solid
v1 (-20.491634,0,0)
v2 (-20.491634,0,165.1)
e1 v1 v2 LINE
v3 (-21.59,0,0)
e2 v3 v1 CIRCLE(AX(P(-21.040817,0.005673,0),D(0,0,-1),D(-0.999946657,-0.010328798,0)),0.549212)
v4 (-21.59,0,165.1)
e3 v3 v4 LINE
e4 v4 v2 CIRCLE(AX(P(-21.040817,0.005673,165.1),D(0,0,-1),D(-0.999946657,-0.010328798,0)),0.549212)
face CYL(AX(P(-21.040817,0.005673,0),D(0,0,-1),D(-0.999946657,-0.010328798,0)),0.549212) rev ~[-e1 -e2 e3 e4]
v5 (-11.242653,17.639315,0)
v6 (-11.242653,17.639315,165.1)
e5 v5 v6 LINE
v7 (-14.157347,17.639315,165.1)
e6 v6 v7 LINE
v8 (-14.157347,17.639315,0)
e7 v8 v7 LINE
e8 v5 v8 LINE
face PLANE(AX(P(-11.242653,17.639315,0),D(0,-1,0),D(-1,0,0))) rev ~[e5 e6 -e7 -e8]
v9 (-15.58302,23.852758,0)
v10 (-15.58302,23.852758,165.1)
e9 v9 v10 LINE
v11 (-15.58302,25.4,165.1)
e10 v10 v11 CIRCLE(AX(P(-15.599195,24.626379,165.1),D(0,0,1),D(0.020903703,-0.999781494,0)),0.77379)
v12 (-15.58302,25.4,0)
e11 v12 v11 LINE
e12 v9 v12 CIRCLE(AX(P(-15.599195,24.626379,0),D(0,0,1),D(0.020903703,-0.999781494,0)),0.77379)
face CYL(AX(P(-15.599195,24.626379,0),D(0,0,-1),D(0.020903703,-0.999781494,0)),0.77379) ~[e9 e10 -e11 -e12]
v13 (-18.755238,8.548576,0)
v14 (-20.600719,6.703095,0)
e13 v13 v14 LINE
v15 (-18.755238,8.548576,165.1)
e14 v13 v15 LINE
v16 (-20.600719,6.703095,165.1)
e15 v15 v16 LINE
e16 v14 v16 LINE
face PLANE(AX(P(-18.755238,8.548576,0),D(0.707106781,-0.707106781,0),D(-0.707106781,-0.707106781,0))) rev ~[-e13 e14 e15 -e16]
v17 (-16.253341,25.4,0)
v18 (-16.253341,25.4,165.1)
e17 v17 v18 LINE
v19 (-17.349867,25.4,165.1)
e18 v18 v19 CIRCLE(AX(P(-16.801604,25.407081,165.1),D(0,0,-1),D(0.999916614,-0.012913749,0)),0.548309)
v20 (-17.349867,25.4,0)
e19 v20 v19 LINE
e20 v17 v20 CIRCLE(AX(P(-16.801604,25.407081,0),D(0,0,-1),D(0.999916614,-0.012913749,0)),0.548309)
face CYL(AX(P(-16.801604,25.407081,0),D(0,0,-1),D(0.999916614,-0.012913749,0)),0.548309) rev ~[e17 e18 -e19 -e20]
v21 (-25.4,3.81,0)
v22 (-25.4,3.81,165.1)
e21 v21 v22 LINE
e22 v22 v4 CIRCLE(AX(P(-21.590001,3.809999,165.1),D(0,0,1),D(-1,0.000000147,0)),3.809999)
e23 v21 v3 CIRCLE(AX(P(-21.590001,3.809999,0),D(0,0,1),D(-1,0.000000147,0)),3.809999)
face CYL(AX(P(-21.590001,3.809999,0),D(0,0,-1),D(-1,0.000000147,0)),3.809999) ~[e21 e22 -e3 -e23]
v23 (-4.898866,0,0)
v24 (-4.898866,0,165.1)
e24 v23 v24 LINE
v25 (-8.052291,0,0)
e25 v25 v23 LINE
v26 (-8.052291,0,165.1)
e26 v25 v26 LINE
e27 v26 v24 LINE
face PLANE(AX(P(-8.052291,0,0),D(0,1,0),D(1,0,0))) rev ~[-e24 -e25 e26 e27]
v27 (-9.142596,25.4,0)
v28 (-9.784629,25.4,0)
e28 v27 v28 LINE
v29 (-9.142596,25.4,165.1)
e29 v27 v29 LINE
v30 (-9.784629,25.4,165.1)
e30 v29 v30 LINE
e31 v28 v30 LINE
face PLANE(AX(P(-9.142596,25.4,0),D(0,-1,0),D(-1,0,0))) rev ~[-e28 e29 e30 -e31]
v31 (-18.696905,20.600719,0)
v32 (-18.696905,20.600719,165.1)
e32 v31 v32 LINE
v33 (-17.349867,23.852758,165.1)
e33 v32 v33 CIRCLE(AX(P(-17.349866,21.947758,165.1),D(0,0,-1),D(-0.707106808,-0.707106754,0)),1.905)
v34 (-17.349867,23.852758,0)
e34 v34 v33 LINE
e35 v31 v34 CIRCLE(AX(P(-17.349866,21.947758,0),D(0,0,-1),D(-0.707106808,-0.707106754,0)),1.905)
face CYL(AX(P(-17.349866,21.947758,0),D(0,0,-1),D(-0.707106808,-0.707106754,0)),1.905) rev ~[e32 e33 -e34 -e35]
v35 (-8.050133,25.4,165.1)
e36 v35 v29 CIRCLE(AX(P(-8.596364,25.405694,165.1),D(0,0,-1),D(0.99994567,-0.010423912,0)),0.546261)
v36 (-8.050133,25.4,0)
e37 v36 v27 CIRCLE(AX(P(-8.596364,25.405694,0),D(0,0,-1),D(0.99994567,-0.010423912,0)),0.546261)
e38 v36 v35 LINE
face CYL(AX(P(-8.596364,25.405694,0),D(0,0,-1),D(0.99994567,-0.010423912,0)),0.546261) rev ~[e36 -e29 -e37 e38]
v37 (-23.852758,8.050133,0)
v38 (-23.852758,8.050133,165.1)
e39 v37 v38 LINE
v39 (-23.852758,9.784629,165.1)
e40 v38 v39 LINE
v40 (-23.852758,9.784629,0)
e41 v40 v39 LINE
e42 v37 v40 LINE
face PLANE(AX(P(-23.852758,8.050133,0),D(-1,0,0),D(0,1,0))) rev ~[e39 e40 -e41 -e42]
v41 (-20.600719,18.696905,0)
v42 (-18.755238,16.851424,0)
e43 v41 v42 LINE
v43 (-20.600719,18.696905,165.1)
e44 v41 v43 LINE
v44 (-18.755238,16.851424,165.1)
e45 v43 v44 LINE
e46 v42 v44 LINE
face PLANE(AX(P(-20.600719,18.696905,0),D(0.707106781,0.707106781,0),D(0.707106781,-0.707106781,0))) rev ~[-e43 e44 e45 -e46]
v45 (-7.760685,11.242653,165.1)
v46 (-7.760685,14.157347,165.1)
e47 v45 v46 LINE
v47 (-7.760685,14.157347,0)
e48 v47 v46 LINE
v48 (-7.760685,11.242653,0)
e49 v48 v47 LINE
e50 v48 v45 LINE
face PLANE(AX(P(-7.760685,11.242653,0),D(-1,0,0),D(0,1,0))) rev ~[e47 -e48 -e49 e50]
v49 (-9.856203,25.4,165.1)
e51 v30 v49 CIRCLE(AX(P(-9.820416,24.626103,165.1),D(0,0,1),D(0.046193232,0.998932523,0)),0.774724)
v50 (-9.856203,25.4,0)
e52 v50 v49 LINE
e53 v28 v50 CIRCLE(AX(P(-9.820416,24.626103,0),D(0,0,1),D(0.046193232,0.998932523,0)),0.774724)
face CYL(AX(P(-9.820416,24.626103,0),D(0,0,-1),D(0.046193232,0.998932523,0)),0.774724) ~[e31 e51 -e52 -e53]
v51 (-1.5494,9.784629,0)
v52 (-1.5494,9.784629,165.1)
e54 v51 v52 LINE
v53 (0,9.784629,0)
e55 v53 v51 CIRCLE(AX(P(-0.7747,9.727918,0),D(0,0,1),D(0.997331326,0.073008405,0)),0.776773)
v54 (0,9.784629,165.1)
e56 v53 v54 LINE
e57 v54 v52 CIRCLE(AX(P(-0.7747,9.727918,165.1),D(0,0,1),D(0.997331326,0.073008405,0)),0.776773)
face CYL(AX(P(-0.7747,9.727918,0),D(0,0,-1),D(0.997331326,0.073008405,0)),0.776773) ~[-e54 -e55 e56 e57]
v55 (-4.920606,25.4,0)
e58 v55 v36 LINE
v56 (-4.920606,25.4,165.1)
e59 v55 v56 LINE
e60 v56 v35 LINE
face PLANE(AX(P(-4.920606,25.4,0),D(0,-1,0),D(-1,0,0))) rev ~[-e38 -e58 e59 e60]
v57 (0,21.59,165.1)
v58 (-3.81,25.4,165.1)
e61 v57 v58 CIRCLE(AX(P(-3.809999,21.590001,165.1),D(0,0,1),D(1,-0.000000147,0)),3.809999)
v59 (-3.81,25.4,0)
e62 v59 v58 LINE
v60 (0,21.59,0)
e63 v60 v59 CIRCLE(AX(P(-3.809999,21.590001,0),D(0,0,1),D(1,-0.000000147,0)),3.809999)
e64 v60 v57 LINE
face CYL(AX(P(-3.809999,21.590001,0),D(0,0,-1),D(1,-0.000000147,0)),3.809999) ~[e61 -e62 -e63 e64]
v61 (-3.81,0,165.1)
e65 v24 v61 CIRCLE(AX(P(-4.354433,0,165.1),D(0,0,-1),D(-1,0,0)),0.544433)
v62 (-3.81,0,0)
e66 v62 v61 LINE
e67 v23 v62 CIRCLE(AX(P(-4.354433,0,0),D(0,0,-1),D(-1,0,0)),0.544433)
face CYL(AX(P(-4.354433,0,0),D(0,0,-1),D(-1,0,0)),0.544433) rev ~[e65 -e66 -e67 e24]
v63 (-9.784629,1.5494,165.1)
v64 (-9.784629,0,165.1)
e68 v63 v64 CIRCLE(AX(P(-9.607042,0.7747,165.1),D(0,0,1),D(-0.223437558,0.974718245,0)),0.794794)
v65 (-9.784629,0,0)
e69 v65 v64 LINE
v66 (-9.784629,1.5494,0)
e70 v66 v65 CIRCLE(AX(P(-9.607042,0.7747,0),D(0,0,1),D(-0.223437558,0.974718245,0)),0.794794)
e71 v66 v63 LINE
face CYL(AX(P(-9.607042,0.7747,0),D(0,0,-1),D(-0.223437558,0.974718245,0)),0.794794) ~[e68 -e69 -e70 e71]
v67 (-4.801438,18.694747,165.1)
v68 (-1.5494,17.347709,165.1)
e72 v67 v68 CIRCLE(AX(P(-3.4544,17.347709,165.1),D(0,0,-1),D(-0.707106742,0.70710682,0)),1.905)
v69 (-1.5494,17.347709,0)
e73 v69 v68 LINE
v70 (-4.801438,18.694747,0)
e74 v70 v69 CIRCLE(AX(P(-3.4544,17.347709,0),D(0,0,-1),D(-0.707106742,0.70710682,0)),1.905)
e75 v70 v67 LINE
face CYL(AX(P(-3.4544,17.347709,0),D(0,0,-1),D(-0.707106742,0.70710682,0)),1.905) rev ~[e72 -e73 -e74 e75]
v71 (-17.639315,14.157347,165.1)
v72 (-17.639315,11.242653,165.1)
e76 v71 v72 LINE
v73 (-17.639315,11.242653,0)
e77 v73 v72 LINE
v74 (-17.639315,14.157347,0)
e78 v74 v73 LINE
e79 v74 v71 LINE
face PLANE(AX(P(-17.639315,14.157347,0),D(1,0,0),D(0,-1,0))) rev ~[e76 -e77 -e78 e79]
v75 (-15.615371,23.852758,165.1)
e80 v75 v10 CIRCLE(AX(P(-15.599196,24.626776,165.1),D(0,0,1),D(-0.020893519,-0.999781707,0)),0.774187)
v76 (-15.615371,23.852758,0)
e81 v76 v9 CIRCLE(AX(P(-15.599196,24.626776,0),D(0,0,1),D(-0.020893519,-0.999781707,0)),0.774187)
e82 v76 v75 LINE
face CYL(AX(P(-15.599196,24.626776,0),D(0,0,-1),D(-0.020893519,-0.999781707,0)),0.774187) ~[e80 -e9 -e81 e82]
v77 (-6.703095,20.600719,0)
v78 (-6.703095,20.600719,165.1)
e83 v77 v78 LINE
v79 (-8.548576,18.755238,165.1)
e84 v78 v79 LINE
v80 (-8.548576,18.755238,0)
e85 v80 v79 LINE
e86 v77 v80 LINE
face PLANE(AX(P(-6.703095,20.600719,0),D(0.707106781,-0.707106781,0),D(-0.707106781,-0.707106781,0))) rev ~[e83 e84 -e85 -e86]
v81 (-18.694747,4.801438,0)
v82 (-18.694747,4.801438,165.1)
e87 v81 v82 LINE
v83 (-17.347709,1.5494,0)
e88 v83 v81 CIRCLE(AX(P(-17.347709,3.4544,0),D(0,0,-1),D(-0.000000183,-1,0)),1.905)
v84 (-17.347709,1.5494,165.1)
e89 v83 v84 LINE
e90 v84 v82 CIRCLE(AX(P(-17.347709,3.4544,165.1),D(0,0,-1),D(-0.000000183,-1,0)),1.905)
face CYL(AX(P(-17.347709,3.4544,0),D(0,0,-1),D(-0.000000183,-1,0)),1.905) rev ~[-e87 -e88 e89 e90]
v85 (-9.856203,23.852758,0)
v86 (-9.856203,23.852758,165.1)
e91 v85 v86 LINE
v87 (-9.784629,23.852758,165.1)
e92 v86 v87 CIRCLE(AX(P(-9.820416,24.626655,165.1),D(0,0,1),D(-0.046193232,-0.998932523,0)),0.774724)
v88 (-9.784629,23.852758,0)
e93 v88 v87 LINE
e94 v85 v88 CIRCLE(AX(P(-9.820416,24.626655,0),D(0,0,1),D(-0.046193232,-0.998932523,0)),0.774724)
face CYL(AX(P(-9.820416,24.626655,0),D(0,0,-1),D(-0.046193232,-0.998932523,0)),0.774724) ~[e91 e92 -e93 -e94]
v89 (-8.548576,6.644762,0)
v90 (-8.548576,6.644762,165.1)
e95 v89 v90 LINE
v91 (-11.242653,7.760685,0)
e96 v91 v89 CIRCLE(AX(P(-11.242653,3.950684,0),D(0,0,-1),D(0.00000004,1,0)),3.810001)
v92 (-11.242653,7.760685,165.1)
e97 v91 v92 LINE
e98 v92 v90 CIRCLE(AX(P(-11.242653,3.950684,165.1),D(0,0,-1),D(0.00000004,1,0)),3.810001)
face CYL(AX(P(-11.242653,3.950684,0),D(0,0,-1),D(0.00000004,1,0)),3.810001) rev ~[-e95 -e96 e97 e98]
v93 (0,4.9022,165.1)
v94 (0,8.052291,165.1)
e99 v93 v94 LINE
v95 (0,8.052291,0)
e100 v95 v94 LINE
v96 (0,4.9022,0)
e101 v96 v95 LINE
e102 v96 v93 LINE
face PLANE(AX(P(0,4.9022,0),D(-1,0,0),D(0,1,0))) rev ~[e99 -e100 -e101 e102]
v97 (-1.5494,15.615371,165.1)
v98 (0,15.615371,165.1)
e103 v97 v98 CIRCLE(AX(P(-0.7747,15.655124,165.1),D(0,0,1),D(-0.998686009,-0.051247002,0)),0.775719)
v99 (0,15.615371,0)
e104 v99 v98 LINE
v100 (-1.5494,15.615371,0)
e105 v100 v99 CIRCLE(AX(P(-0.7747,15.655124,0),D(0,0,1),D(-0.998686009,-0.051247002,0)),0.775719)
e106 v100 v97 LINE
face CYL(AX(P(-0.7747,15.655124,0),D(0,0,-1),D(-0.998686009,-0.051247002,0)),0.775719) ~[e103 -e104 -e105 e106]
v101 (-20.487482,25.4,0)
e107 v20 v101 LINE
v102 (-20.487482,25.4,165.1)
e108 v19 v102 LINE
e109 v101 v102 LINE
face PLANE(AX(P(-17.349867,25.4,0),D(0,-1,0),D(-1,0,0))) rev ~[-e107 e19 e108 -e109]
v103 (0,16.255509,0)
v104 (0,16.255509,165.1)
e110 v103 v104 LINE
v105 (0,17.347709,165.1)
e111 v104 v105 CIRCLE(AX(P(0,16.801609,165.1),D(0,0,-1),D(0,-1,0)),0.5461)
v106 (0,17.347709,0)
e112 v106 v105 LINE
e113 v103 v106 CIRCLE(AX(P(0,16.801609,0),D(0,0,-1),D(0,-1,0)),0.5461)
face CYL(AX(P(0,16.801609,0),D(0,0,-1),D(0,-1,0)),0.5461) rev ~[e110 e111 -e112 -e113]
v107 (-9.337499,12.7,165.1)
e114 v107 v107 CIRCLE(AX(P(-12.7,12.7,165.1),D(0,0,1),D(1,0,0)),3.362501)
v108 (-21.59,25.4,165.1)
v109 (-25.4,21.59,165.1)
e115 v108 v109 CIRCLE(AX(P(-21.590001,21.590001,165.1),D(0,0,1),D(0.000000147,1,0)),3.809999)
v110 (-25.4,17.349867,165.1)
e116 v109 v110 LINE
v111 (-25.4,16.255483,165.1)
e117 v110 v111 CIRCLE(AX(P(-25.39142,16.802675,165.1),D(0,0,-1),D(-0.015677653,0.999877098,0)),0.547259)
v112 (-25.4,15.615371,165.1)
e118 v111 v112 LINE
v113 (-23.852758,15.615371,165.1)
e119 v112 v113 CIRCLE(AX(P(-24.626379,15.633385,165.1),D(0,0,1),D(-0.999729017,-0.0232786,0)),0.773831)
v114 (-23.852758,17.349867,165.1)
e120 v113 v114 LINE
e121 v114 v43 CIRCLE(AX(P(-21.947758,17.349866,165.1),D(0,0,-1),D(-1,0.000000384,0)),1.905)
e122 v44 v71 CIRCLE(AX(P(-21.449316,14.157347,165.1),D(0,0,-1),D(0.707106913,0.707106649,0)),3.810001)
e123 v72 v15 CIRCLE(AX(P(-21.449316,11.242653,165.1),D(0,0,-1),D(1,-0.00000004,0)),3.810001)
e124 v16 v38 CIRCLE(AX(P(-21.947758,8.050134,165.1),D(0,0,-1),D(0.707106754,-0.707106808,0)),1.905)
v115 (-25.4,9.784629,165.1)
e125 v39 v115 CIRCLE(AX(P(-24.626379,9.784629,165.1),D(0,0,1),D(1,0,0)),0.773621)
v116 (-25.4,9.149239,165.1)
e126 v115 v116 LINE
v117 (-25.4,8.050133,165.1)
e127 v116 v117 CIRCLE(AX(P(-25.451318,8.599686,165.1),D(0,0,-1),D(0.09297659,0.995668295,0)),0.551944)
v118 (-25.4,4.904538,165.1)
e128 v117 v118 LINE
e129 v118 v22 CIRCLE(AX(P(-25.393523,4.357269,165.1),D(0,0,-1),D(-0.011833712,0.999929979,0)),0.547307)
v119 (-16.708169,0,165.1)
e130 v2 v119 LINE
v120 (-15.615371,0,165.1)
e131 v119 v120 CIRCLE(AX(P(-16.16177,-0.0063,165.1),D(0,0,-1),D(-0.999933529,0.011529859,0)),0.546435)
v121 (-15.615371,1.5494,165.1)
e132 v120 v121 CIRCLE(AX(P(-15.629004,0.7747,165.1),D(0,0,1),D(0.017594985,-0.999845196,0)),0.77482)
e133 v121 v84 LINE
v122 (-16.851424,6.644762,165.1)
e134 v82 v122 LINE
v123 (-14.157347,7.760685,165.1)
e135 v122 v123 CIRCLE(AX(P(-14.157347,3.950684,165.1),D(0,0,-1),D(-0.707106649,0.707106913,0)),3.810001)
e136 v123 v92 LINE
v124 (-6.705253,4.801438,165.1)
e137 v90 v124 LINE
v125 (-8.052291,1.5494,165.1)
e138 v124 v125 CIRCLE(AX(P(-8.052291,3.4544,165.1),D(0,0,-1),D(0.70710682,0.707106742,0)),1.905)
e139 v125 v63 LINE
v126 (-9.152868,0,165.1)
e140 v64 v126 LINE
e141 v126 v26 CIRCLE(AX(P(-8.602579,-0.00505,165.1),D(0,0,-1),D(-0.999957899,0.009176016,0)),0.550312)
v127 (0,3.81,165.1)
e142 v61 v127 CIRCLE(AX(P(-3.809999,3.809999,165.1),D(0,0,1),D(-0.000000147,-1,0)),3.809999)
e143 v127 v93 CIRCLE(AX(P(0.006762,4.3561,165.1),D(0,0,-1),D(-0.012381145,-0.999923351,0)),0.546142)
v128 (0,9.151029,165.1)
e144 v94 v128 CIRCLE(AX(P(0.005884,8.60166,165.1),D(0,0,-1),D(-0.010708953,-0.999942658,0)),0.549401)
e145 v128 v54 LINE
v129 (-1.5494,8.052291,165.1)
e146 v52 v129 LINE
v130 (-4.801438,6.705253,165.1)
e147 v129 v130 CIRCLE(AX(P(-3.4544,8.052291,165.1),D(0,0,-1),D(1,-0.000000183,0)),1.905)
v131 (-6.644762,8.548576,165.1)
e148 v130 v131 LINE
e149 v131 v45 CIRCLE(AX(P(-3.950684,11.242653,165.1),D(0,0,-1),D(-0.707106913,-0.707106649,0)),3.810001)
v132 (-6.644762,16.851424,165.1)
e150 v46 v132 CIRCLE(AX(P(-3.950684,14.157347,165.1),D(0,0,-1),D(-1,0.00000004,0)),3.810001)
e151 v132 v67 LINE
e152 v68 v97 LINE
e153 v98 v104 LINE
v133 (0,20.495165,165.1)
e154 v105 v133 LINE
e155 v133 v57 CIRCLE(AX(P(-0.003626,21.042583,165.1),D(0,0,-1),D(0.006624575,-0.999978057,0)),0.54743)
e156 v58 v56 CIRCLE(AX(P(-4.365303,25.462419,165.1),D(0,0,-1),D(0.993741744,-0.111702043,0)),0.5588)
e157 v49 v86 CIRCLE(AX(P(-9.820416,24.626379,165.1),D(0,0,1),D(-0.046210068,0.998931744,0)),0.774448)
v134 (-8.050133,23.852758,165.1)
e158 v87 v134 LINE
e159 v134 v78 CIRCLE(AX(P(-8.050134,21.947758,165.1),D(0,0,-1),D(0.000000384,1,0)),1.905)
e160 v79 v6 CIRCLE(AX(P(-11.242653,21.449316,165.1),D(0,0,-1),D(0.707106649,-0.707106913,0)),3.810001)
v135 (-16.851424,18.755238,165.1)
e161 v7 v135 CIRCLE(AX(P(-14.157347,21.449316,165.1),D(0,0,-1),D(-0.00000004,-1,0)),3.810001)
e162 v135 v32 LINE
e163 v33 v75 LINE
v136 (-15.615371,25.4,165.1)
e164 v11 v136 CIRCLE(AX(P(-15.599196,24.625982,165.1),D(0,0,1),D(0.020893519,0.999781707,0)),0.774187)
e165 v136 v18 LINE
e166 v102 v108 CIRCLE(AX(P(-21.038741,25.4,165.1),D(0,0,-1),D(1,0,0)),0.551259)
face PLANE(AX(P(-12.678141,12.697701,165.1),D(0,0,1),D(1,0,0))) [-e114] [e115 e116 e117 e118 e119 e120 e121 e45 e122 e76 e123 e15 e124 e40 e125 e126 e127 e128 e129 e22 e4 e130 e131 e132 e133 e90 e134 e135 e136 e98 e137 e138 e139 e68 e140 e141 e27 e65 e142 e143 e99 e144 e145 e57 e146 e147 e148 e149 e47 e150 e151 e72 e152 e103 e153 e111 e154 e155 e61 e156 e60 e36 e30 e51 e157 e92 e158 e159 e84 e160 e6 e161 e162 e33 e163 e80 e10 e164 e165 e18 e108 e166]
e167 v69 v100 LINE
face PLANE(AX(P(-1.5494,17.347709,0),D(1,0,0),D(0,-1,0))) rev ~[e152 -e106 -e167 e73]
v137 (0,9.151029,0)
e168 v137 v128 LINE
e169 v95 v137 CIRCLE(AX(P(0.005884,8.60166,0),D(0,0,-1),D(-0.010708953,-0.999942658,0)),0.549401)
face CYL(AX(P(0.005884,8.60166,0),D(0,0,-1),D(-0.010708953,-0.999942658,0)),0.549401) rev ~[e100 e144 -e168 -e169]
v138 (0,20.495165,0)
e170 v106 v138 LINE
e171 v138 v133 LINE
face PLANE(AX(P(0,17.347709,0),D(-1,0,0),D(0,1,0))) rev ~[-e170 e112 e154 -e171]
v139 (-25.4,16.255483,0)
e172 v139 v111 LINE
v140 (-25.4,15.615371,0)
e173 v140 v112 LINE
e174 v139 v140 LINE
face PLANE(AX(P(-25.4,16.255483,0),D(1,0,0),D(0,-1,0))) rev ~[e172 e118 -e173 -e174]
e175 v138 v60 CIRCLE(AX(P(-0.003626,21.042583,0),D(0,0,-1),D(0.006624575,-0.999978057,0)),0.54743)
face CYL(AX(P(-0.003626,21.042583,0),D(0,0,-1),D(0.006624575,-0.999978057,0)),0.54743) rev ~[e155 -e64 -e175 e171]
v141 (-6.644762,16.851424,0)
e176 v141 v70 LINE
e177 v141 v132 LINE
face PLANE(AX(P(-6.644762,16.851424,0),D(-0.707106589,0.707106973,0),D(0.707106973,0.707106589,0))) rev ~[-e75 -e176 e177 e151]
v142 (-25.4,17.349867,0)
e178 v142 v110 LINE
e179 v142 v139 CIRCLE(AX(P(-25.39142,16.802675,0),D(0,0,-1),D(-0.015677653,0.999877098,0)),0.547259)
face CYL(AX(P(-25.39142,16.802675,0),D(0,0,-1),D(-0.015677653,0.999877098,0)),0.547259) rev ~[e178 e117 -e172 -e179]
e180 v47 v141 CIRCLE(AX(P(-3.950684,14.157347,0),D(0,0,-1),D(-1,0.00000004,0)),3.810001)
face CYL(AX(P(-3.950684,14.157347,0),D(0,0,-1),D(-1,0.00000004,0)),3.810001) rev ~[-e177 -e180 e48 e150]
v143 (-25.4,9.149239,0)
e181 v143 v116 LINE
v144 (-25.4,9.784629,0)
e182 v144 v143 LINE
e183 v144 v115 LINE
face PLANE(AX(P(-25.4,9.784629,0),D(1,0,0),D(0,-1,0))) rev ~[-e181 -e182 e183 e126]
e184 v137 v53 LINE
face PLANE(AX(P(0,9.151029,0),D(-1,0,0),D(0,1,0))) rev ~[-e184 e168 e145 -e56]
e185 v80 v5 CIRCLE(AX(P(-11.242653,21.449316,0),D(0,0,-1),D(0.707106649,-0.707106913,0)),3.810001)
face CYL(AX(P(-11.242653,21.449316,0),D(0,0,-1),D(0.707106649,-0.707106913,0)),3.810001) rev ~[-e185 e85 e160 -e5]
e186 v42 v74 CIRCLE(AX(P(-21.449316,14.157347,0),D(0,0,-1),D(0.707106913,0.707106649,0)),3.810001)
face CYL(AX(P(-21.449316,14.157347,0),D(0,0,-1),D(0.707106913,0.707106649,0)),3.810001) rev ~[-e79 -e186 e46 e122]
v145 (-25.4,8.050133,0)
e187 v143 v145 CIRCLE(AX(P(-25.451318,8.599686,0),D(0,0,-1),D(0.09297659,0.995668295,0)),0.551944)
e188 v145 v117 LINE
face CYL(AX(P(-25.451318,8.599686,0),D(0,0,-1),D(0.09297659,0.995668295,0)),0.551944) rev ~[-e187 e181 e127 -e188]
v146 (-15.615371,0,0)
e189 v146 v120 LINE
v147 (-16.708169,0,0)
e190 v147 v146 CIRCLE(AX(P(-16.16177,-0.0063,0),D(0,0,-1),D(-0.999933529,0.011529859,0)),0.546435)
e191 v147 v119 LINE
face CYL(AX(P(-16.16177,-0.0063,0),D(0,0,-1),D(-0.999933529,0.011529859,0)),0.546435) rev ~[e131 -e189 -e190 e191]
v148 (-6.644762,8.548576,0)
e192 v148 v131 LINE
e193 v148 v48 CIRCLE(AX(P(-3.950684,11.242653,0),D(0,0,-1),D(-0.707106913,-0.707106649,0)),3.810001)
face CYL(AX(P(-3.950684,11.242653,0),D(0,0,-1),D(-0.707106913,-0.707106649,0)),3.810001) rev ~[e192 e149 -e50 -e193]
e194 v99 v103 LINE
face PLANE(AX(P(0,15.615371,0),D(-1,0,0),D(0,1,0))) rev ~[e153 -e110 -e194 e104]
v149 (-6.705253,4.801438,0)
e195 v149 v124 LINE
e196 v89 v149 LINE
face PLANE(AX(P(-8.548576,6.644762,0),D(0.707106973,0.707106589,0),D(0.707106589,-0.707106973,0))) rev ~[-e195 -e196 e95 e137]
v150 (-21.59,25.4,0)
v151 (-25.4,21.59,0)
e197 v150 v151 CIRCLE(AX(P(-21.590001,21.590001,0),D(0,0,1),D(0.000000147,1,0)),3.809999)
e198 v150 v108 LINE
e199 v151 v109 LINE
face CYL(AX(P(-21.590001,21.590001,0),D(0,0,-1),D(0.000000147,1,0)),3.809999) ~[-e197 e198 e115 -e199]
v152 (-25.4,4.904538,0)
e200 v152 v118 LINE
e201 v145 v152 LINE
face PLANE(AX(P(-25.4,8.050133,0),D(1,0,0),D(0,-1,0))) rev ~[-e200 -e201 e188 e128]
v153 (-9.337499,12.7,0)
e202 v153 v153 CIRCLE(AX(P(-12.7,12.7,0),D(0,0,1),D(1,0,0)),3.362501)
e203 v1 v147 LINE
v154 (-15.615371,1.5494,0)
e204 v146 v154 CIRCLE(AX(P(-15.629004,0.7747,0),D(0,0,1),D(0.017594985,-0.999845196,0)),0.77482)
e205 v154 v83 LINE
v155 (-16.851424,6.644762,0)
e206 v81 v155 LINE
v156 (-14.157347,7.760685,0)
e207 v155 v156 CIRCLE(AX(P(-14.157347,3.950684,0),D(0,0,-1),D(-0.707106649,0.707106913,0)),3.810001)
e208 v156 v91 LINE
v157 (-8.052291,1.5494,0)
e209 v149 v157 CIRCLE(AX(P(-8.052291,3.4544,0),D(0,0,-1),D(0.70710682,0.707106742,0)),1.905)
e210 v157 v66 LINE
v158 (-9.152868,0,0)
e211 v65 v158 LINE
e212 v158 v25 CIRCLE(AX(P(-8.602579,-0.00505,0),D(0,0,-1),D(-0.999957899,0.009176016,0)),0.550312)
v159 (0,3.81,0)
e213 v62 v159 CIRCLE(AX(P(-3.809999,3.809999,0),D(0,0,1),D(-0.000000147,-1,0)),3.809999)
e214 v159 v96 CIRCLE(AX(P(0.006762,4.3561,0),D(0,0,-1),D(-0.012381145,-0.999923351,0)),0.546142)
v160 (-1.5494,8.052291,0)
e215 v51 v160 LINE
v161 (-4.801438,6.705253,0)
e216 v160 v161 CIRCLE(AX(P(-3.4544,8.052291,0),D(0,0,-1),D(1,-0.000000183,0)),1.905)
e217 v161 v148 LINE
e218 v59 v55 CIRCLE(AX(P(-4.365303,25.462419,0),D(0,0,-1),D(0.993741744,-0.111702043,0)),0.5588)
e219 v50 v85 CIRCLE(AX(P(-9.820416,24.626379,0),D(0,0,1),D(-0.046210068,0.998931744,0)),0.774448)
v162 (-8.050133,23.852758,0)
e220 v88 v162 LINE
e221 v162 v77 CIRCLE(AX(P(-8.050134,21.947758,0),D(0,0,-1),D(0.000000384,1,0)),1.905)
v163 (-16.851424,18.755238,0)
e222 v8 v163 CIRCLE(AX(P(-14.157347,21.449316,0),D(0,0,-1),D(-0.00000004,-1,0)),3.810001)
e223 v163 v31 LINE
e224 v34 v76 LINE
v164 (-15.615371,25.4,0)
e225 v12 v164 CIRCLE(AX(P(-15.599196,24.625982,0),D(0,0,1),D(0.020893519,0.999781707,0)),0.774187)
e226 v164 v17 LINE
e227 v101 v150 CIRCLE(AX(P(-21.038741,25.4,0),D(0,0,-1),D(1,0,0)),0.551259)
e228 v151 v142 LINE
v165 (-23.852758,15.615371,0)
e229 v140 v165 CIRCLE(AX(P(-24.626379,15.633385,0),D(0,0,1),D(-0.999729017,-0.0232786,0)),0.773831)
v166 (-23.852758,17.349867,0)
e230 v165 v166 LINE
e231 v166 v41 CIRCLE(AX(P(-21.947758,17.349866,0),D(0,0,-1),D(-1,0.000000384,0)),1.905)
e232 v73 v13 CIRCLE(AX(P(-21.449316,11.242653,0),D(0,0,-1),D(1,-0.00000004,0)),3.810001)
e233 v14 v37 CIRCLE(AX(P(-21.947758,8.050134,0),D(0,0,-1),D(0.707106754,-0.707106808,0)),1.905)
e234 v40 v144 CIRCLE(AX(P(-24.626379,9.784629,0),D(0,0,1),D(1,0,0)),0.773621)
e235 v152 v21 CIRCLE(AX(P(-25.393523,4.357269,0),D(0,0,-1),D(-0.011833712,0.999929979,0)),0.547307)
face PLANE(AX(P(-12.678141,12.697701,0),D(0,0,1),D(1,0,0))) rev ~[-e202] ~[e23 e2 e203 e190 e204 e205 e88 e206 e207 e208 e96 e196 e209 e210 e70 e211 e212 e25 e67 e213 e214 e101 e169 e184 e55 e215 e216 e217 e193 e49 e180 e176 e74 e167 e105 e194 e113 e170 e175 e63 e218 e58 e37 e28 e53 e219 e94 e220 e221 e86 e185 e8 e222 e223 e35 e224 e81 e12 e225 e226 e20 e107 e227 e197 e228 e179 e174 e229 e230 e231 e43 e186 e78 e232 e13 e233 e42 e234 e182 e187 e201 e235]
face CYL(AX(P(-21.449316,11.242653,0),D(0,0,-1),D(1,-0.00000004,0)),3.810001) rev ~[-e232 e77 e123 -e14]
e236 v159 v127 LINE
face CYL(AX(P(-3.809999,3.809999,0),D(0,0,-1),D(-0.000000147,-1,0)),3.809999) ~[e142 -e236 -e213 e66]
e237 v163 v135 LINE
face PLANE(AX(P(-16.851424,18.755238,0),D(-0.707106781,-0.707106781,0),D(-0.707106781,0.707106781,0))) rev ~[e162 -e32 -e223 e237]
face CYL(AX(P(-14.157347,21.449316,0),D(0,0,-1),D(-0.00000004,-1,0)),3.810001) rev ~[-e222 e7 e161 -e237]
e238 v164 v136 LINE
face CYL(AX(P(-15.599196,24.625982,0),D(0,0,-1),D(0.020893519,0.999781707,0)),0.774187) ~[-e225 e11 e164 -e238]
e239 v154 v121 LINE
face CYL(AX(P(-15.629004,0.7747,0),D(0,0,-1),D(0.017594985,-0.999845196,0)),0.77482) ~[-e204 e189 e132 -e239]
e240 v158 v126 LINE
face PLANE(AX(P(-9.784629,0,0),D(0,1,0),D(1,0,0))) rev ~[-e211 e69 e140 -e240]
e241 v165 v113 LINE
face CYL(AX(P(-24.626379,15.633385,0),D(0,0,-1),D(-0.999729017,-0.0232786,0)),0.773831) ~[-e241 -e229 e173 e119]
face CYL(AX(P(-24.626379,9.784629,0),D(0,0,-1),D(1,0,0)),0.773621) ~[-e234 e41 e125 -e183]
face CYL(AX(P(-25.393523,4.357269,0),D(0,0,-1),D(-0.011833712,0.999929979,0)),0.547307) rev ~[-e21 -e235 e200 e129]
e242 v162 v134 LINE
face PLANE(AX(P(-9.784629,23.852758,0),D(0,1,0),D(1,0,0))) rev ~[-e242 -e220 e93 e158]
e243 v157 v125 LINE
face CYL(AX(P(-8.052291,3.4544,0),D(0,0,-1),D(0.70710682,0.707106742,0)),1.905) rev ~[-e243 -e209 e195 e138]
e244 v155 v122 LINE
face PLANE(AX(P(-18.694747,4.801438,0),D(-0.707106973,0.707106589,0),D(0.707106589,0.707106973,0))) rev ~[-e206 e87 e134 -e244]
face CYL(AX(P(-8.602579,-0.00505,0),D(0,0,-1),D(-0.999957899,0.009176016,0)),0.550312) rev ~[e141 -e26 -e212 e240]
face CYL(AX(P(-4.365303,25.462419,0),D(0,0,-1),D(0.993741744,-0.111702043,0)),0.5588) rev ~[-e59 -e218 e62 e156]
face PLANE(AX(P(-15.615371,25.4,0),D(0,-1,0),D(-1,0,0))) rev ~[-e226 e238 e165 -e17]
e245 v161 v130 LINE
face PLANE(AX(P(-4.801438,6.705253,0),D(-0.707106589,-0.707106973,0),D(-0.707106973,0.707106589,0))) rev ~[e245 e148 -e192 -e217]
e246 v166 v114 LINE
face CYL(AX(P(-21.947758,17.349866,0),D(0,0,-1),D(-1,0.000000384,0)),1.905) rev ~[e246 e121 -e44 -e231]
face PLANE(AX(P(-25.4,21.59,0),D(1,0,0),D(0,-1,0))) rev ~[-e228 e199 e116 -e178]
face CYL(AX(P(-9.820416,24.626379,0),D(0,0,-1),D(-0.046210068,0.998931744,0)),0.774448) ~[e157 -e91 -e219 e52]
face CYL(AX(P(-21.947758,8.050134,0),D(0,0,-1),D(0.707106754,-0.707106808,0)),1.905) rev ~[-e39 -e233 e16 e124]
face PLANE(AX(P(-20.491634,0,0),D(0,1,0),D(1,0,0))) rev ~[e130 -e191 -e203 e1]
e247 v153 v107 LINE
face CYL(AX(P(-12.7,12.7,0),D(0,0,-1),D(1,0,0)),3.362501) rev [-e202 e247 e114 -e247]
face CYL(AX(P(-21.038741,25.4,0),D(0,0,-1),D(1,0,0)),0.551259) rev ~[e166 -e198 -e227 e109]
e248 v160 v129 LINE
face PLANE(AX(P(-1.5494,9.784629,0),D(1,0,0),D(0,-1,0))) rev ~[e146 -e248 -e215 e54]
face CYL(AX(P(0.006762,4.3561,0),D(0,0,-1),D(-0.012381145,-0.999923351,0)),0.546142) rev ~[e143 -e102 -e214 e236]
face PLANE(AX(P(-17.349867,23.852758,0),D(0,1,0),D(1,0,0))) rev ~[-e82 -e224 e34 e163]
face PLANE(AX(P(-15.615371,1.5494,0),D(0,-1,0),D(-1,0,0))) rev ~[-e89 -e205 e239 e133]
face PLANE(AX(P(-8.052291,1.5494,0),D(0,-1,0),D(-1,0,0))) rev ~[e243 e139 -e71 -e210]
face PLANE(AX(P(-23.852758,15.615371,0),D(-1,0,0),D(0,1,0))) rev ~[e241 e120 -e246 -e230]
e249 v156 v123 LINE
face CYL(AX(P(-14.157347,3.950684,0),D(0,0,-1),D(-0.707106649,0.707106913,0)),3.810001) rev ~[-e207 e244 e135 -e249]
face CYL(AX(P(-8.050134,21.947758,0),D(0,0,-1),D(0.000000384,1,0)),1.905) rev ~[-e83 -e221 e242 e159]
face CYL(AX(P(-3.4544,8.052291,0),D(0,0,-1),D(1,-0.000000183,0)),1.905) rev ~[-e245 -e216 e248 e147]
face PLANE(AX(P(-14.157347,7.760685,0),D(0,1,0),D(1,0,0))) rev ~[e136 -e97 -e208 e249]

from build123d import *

# Parameters (mm, degrees)
F0_R     = 3.362501
F1_DEPTH = 165.1


with BuildPart() as f1:
    # F0 (on Top) → F1 (new body)
    with BuildSketch(Plane.XY):
        with BuildLine():
            ThreePointArc((-8.548576, 18.755238), (-9.784629, 17.929334), (-11.242653, 17.639315))
            Line((-11.242653, 17.639315), (-14.157347, 17.639315))
            ThreePointArc((-14.157347, 17.639315), (-15.615371, 17.929334), (-16.851424, 18.755238))
            Line((-16.851424, 18.755238), (-18.696905, 20.600719))
            ThreePointArc((-18.696905, 20.600719), (-19.109857, 22.67677), (-17.349867, 23.852758))
            Line((-17.349867, 23.852758), (-15.615371, 23.852758))
            Line((-15.615371, 23.852758), (-15.58302, 23.852758))
            ThreePointArc((-15.58302, 23.852758), (-14.825405, 24.626379), (-15.58302, 25.4))
            Line((-15.58302, 25.4), (-15.615371, 25.4))
            Line((-15.615371, 25.4), (-16.253341, 25.4))
            ThreePointArc((-16.253341, 25.4), (-16.801604, 24.858772), (-17.349867, 25.4))
            Line((-17.349867, 25.4), (-20.487482, 25.4))
            ThreePointArc((-20.487482, 25.4), (-21.038741, 24.848741), (-21.59, 25.4))
            ThreePointArc((-21.59, 25.4), (-24.284077, 24.284077), (-25.4, 21.59))
            Line((-25.4, 21.59), (-25.4, 20.504724))
            Line((-25.4, 20.504724), (-25.4, 17.349867))
            ThreePointArc((-25.4, 17.349867), (-24.844161, 16.802675), (-25.4, 16.255483))
            Line((-25.4, 16.255483), (-25.4, 15.615371))
            ThreePointArc((-25.4, 15.615371), (-24.626379, 14.859554), (-23.852758, 15.615371))
            Line((-23.852758, 15.615371), (-23.852758, 17.349867))
            ThreePointArc((-23.852758, 17.349867), (-22.67677, 19.109857), (-20.600719, 18.696905))
            Line((-20.600719, 18.696905), (-18.755238, 16.851424))
            ThreePointArc((-18.755238, 16.851424), (-17.929334, 15.615371), (-17.639315, 14.157347))
            Line((-17.639315, 14.157347), (-17.639315, 11.242653))
            ThreePointArc((-17.639315, 11.242653), (-17.929334, 9.784629), (-18.755238, 8.548576))
            Line((-18.755238, 8.548576), (-20.600719, 6.703095))
            ThreePointArc((-20.600719, 6.703095), (-22.67677, 6.290143), (-23.852758, 8.050133))
            Line((-23.852758, 8.050133), (-23.852758, 9.784629))
            ThreePointArc((-23.852758, 9.784629), (-24.626379, 10.55825), (-25.4, 9.784629))
            Line((-25.4, 9.784629), (-25.4, 9.149239))
            ThreePointArc((-25.4, 9.149239), (-24.899374, 8.599686), (-25.4, 8.050133))
            Line((-25.4, 8.050133), (-25.4, 4.904538))
            ThreePointArc((-25.4, 4.904538), (-24.846216, 4.357269), (-25.4, 3.81))
            ThreePointArc((-25.4, 3.81), (-24.284077, 1.115923), (-21.59, 0))
            ThreePointArc((-21.59, 0), (-21.040817, 0.554885), (-20.491634, 0))
            Line((-20.491634, 0), (-16.708169, 0))
            ThreePointArc((-16.708169, 0), (-16.16177, 0.540135), (-15.615371, 0))
            ThreePointArc((-15.615371, 0), (-14.854184, 0.7747), (-15.615371, 1.5494))
            Line((-15.615371, 1.5494), (-17.347709, 1.5494))
            ThreePointArc((-17.347709, 1.5494), (-19.107699, 2.725388), (-18.694747, 4.801438))
            Line((-18.694747, 4.801438), (-16.851424, 6.644762))
            ThreePointArc((-16.851424, 6.644762), (-15.615371, 7.470666), (-14.157347, 7.760685))
            Line((-14.157347, 7.760685), (-11.242653, 7.760685))
            ThreePointArc((-11.242653, 7.760685), (-9.784629, 7.470666), (-8.548576, 6.644762))
            Line((-8.548576, 6.644762), (-6.705253, 4.801438))
            ThreePointArc((-6.705253, 4.801438), (-6.292301, 2.725388), (-8.052291, 1.5494))
            Line((-8.052291, 1.5494), (-9.784629, 1.5494))
            ThreePointArc((-9.784629, 1.5494), (-10.401836, 0.7747), (-9.784629, 0))
            Line((-9.784629, 0), (-9.152868, 0))
            ThreePointArc((-9.152868, 0), (-8.602579, 0.545262), (-8.052291, 0))
            Line((-8.052291, 0), (-4.898866, 0))
            ThreePointArc((-4.898866, 0), (-4.354433, 0.544433), (-3.81, 0))
            ThreePointArc((-3.81, 0), (-1.115923, 1.115923), (0, 3.81))
            ThreePointArc((0, 3.81), (-0.53938, 4.3561), (0, 4.9022))
            Line((0, 4.9022), (0, 8.052291))
            ThreePointArc((0, 8.052291), (-0.543517, 8.60166), (0, 9.151029))
            Line((0, 9.151029), (0, 9.784629))
            ThreePointArc((0, 9.784629), (-0.7747, 10.504691), (-1.5494, 9.784629))
            Line((-1.5494, 9.784629), (-1.5494, 8.052291))
            ThreePointArc((-1.5494, 8.052291), (-2.725388, 6.292301), (-4.801438, 6.705253))
            Line((-4.801438, 6.705253), (-6.644762, 8.548576))
            ThreePointArc((-6.644762, 8.548576), (-7.470666, 9.784629), (-7.760685, 11.242653))
            Line((-7.760685, 11.242653), (-7.760685, 14.157347))
            ThreePointArc((-7.760685, 14.157347), (-7.470666, 15.615371), (-6.644762, 16.851424))
            Line((-6.644762, 16.851424), (-4.801438, 18.694747))
            ThreePointArc((-4.801438, 18.694747), (-2.725388, 19.107699), (-1.5494, 17.347709))
            Line((-1.5494, 17.347709), (-1.5494, 15.615371))
            ThreePointArc((-1.5494, 15.615371), (-0.7747, 14.879405), (0, 15.615371))
            Line((0, 15.615371), (0, 16.255509))
            ThreePointArc((0, 16.255509), (-0.5461, 16.801609), (0, 17.347709))
            Line((0, 17.347709), (0, 20.495165))
            ThreePointArc((0, 20.495165), (-0.551056, 21.042583), (0, 21.59))
            ThreePointArc((0, 21.59), (-1.115923, 24.284077), (-3.81, 25.4))
            ThreePointArc((-3.81, 25.4), (-4.365303, 24.903619), (-4.920606, 25.4))
            Line((-4.920606, 25.4), (-8.050133, 25.4))
            ThreePointArc((-8.050133, 25.4), (-8.596365, 24.859433), (-9.142596, 25.4))
            Line((-9.142596, 25.4), (-9.784629, 25.4))
            Line((-9.784629, 25.4), (-9.856203, 25.4))
            ThreePointArc((-9.856203, 25.4), (-10.594864, 24.626379), (-9.856203, 23.852758))
            Line((-9.856203, 23.852758), (-9.784629, 23.852758))
            Line((-9.784629, 23.852758), (-8.050133, 23.852758))
            ThreePointArc((-8.050133, 23.852758), (-6.290143, 22.67677), (-6.703095, 20.600719))
            Line((-6.703095, 20.600719), (-8.548576, 18.755238))
        make_face()
        with Locations((-12.7, 12.7)):
            Circle(F0_R, mode=Mode.SUBTRACT)
        with BuildLine():
            ThreePointArc((-9.856203, 23.852758), (-9.820416, 23.851931), (-9.784629, 23.852758))
            Line((-9.784629, 23.852758), (-9.856203, 23.852758))
        make_face()
        with BuildLine():
            Line((-15.58302, 23.852758), (-15.615371, 23.852758))
            ThreePointArc((-15.615371, 23.852758), (-15.599195, 23.852589), (-15.58302, 23.852758))
        make_face()
        with BuildLine():
            ThreePointArc((-9.784629, 25.4), (-9.820416, 25.400827), (-9.856203, 25.4))
            Line((-9.856203, 25.4), (-9.784629, 25.4))
        make_face()
        with BuildLine():
            Line((-15.615371, 25.4), (-15.58302, 25.4))
            ThreePointArc((-15.58302, 25.4), (-15.599195, 25.400169), (-15.615371, 25.4))
        make_face()
    extrude(amount=F1_DEPTH)


solid = f1.part
